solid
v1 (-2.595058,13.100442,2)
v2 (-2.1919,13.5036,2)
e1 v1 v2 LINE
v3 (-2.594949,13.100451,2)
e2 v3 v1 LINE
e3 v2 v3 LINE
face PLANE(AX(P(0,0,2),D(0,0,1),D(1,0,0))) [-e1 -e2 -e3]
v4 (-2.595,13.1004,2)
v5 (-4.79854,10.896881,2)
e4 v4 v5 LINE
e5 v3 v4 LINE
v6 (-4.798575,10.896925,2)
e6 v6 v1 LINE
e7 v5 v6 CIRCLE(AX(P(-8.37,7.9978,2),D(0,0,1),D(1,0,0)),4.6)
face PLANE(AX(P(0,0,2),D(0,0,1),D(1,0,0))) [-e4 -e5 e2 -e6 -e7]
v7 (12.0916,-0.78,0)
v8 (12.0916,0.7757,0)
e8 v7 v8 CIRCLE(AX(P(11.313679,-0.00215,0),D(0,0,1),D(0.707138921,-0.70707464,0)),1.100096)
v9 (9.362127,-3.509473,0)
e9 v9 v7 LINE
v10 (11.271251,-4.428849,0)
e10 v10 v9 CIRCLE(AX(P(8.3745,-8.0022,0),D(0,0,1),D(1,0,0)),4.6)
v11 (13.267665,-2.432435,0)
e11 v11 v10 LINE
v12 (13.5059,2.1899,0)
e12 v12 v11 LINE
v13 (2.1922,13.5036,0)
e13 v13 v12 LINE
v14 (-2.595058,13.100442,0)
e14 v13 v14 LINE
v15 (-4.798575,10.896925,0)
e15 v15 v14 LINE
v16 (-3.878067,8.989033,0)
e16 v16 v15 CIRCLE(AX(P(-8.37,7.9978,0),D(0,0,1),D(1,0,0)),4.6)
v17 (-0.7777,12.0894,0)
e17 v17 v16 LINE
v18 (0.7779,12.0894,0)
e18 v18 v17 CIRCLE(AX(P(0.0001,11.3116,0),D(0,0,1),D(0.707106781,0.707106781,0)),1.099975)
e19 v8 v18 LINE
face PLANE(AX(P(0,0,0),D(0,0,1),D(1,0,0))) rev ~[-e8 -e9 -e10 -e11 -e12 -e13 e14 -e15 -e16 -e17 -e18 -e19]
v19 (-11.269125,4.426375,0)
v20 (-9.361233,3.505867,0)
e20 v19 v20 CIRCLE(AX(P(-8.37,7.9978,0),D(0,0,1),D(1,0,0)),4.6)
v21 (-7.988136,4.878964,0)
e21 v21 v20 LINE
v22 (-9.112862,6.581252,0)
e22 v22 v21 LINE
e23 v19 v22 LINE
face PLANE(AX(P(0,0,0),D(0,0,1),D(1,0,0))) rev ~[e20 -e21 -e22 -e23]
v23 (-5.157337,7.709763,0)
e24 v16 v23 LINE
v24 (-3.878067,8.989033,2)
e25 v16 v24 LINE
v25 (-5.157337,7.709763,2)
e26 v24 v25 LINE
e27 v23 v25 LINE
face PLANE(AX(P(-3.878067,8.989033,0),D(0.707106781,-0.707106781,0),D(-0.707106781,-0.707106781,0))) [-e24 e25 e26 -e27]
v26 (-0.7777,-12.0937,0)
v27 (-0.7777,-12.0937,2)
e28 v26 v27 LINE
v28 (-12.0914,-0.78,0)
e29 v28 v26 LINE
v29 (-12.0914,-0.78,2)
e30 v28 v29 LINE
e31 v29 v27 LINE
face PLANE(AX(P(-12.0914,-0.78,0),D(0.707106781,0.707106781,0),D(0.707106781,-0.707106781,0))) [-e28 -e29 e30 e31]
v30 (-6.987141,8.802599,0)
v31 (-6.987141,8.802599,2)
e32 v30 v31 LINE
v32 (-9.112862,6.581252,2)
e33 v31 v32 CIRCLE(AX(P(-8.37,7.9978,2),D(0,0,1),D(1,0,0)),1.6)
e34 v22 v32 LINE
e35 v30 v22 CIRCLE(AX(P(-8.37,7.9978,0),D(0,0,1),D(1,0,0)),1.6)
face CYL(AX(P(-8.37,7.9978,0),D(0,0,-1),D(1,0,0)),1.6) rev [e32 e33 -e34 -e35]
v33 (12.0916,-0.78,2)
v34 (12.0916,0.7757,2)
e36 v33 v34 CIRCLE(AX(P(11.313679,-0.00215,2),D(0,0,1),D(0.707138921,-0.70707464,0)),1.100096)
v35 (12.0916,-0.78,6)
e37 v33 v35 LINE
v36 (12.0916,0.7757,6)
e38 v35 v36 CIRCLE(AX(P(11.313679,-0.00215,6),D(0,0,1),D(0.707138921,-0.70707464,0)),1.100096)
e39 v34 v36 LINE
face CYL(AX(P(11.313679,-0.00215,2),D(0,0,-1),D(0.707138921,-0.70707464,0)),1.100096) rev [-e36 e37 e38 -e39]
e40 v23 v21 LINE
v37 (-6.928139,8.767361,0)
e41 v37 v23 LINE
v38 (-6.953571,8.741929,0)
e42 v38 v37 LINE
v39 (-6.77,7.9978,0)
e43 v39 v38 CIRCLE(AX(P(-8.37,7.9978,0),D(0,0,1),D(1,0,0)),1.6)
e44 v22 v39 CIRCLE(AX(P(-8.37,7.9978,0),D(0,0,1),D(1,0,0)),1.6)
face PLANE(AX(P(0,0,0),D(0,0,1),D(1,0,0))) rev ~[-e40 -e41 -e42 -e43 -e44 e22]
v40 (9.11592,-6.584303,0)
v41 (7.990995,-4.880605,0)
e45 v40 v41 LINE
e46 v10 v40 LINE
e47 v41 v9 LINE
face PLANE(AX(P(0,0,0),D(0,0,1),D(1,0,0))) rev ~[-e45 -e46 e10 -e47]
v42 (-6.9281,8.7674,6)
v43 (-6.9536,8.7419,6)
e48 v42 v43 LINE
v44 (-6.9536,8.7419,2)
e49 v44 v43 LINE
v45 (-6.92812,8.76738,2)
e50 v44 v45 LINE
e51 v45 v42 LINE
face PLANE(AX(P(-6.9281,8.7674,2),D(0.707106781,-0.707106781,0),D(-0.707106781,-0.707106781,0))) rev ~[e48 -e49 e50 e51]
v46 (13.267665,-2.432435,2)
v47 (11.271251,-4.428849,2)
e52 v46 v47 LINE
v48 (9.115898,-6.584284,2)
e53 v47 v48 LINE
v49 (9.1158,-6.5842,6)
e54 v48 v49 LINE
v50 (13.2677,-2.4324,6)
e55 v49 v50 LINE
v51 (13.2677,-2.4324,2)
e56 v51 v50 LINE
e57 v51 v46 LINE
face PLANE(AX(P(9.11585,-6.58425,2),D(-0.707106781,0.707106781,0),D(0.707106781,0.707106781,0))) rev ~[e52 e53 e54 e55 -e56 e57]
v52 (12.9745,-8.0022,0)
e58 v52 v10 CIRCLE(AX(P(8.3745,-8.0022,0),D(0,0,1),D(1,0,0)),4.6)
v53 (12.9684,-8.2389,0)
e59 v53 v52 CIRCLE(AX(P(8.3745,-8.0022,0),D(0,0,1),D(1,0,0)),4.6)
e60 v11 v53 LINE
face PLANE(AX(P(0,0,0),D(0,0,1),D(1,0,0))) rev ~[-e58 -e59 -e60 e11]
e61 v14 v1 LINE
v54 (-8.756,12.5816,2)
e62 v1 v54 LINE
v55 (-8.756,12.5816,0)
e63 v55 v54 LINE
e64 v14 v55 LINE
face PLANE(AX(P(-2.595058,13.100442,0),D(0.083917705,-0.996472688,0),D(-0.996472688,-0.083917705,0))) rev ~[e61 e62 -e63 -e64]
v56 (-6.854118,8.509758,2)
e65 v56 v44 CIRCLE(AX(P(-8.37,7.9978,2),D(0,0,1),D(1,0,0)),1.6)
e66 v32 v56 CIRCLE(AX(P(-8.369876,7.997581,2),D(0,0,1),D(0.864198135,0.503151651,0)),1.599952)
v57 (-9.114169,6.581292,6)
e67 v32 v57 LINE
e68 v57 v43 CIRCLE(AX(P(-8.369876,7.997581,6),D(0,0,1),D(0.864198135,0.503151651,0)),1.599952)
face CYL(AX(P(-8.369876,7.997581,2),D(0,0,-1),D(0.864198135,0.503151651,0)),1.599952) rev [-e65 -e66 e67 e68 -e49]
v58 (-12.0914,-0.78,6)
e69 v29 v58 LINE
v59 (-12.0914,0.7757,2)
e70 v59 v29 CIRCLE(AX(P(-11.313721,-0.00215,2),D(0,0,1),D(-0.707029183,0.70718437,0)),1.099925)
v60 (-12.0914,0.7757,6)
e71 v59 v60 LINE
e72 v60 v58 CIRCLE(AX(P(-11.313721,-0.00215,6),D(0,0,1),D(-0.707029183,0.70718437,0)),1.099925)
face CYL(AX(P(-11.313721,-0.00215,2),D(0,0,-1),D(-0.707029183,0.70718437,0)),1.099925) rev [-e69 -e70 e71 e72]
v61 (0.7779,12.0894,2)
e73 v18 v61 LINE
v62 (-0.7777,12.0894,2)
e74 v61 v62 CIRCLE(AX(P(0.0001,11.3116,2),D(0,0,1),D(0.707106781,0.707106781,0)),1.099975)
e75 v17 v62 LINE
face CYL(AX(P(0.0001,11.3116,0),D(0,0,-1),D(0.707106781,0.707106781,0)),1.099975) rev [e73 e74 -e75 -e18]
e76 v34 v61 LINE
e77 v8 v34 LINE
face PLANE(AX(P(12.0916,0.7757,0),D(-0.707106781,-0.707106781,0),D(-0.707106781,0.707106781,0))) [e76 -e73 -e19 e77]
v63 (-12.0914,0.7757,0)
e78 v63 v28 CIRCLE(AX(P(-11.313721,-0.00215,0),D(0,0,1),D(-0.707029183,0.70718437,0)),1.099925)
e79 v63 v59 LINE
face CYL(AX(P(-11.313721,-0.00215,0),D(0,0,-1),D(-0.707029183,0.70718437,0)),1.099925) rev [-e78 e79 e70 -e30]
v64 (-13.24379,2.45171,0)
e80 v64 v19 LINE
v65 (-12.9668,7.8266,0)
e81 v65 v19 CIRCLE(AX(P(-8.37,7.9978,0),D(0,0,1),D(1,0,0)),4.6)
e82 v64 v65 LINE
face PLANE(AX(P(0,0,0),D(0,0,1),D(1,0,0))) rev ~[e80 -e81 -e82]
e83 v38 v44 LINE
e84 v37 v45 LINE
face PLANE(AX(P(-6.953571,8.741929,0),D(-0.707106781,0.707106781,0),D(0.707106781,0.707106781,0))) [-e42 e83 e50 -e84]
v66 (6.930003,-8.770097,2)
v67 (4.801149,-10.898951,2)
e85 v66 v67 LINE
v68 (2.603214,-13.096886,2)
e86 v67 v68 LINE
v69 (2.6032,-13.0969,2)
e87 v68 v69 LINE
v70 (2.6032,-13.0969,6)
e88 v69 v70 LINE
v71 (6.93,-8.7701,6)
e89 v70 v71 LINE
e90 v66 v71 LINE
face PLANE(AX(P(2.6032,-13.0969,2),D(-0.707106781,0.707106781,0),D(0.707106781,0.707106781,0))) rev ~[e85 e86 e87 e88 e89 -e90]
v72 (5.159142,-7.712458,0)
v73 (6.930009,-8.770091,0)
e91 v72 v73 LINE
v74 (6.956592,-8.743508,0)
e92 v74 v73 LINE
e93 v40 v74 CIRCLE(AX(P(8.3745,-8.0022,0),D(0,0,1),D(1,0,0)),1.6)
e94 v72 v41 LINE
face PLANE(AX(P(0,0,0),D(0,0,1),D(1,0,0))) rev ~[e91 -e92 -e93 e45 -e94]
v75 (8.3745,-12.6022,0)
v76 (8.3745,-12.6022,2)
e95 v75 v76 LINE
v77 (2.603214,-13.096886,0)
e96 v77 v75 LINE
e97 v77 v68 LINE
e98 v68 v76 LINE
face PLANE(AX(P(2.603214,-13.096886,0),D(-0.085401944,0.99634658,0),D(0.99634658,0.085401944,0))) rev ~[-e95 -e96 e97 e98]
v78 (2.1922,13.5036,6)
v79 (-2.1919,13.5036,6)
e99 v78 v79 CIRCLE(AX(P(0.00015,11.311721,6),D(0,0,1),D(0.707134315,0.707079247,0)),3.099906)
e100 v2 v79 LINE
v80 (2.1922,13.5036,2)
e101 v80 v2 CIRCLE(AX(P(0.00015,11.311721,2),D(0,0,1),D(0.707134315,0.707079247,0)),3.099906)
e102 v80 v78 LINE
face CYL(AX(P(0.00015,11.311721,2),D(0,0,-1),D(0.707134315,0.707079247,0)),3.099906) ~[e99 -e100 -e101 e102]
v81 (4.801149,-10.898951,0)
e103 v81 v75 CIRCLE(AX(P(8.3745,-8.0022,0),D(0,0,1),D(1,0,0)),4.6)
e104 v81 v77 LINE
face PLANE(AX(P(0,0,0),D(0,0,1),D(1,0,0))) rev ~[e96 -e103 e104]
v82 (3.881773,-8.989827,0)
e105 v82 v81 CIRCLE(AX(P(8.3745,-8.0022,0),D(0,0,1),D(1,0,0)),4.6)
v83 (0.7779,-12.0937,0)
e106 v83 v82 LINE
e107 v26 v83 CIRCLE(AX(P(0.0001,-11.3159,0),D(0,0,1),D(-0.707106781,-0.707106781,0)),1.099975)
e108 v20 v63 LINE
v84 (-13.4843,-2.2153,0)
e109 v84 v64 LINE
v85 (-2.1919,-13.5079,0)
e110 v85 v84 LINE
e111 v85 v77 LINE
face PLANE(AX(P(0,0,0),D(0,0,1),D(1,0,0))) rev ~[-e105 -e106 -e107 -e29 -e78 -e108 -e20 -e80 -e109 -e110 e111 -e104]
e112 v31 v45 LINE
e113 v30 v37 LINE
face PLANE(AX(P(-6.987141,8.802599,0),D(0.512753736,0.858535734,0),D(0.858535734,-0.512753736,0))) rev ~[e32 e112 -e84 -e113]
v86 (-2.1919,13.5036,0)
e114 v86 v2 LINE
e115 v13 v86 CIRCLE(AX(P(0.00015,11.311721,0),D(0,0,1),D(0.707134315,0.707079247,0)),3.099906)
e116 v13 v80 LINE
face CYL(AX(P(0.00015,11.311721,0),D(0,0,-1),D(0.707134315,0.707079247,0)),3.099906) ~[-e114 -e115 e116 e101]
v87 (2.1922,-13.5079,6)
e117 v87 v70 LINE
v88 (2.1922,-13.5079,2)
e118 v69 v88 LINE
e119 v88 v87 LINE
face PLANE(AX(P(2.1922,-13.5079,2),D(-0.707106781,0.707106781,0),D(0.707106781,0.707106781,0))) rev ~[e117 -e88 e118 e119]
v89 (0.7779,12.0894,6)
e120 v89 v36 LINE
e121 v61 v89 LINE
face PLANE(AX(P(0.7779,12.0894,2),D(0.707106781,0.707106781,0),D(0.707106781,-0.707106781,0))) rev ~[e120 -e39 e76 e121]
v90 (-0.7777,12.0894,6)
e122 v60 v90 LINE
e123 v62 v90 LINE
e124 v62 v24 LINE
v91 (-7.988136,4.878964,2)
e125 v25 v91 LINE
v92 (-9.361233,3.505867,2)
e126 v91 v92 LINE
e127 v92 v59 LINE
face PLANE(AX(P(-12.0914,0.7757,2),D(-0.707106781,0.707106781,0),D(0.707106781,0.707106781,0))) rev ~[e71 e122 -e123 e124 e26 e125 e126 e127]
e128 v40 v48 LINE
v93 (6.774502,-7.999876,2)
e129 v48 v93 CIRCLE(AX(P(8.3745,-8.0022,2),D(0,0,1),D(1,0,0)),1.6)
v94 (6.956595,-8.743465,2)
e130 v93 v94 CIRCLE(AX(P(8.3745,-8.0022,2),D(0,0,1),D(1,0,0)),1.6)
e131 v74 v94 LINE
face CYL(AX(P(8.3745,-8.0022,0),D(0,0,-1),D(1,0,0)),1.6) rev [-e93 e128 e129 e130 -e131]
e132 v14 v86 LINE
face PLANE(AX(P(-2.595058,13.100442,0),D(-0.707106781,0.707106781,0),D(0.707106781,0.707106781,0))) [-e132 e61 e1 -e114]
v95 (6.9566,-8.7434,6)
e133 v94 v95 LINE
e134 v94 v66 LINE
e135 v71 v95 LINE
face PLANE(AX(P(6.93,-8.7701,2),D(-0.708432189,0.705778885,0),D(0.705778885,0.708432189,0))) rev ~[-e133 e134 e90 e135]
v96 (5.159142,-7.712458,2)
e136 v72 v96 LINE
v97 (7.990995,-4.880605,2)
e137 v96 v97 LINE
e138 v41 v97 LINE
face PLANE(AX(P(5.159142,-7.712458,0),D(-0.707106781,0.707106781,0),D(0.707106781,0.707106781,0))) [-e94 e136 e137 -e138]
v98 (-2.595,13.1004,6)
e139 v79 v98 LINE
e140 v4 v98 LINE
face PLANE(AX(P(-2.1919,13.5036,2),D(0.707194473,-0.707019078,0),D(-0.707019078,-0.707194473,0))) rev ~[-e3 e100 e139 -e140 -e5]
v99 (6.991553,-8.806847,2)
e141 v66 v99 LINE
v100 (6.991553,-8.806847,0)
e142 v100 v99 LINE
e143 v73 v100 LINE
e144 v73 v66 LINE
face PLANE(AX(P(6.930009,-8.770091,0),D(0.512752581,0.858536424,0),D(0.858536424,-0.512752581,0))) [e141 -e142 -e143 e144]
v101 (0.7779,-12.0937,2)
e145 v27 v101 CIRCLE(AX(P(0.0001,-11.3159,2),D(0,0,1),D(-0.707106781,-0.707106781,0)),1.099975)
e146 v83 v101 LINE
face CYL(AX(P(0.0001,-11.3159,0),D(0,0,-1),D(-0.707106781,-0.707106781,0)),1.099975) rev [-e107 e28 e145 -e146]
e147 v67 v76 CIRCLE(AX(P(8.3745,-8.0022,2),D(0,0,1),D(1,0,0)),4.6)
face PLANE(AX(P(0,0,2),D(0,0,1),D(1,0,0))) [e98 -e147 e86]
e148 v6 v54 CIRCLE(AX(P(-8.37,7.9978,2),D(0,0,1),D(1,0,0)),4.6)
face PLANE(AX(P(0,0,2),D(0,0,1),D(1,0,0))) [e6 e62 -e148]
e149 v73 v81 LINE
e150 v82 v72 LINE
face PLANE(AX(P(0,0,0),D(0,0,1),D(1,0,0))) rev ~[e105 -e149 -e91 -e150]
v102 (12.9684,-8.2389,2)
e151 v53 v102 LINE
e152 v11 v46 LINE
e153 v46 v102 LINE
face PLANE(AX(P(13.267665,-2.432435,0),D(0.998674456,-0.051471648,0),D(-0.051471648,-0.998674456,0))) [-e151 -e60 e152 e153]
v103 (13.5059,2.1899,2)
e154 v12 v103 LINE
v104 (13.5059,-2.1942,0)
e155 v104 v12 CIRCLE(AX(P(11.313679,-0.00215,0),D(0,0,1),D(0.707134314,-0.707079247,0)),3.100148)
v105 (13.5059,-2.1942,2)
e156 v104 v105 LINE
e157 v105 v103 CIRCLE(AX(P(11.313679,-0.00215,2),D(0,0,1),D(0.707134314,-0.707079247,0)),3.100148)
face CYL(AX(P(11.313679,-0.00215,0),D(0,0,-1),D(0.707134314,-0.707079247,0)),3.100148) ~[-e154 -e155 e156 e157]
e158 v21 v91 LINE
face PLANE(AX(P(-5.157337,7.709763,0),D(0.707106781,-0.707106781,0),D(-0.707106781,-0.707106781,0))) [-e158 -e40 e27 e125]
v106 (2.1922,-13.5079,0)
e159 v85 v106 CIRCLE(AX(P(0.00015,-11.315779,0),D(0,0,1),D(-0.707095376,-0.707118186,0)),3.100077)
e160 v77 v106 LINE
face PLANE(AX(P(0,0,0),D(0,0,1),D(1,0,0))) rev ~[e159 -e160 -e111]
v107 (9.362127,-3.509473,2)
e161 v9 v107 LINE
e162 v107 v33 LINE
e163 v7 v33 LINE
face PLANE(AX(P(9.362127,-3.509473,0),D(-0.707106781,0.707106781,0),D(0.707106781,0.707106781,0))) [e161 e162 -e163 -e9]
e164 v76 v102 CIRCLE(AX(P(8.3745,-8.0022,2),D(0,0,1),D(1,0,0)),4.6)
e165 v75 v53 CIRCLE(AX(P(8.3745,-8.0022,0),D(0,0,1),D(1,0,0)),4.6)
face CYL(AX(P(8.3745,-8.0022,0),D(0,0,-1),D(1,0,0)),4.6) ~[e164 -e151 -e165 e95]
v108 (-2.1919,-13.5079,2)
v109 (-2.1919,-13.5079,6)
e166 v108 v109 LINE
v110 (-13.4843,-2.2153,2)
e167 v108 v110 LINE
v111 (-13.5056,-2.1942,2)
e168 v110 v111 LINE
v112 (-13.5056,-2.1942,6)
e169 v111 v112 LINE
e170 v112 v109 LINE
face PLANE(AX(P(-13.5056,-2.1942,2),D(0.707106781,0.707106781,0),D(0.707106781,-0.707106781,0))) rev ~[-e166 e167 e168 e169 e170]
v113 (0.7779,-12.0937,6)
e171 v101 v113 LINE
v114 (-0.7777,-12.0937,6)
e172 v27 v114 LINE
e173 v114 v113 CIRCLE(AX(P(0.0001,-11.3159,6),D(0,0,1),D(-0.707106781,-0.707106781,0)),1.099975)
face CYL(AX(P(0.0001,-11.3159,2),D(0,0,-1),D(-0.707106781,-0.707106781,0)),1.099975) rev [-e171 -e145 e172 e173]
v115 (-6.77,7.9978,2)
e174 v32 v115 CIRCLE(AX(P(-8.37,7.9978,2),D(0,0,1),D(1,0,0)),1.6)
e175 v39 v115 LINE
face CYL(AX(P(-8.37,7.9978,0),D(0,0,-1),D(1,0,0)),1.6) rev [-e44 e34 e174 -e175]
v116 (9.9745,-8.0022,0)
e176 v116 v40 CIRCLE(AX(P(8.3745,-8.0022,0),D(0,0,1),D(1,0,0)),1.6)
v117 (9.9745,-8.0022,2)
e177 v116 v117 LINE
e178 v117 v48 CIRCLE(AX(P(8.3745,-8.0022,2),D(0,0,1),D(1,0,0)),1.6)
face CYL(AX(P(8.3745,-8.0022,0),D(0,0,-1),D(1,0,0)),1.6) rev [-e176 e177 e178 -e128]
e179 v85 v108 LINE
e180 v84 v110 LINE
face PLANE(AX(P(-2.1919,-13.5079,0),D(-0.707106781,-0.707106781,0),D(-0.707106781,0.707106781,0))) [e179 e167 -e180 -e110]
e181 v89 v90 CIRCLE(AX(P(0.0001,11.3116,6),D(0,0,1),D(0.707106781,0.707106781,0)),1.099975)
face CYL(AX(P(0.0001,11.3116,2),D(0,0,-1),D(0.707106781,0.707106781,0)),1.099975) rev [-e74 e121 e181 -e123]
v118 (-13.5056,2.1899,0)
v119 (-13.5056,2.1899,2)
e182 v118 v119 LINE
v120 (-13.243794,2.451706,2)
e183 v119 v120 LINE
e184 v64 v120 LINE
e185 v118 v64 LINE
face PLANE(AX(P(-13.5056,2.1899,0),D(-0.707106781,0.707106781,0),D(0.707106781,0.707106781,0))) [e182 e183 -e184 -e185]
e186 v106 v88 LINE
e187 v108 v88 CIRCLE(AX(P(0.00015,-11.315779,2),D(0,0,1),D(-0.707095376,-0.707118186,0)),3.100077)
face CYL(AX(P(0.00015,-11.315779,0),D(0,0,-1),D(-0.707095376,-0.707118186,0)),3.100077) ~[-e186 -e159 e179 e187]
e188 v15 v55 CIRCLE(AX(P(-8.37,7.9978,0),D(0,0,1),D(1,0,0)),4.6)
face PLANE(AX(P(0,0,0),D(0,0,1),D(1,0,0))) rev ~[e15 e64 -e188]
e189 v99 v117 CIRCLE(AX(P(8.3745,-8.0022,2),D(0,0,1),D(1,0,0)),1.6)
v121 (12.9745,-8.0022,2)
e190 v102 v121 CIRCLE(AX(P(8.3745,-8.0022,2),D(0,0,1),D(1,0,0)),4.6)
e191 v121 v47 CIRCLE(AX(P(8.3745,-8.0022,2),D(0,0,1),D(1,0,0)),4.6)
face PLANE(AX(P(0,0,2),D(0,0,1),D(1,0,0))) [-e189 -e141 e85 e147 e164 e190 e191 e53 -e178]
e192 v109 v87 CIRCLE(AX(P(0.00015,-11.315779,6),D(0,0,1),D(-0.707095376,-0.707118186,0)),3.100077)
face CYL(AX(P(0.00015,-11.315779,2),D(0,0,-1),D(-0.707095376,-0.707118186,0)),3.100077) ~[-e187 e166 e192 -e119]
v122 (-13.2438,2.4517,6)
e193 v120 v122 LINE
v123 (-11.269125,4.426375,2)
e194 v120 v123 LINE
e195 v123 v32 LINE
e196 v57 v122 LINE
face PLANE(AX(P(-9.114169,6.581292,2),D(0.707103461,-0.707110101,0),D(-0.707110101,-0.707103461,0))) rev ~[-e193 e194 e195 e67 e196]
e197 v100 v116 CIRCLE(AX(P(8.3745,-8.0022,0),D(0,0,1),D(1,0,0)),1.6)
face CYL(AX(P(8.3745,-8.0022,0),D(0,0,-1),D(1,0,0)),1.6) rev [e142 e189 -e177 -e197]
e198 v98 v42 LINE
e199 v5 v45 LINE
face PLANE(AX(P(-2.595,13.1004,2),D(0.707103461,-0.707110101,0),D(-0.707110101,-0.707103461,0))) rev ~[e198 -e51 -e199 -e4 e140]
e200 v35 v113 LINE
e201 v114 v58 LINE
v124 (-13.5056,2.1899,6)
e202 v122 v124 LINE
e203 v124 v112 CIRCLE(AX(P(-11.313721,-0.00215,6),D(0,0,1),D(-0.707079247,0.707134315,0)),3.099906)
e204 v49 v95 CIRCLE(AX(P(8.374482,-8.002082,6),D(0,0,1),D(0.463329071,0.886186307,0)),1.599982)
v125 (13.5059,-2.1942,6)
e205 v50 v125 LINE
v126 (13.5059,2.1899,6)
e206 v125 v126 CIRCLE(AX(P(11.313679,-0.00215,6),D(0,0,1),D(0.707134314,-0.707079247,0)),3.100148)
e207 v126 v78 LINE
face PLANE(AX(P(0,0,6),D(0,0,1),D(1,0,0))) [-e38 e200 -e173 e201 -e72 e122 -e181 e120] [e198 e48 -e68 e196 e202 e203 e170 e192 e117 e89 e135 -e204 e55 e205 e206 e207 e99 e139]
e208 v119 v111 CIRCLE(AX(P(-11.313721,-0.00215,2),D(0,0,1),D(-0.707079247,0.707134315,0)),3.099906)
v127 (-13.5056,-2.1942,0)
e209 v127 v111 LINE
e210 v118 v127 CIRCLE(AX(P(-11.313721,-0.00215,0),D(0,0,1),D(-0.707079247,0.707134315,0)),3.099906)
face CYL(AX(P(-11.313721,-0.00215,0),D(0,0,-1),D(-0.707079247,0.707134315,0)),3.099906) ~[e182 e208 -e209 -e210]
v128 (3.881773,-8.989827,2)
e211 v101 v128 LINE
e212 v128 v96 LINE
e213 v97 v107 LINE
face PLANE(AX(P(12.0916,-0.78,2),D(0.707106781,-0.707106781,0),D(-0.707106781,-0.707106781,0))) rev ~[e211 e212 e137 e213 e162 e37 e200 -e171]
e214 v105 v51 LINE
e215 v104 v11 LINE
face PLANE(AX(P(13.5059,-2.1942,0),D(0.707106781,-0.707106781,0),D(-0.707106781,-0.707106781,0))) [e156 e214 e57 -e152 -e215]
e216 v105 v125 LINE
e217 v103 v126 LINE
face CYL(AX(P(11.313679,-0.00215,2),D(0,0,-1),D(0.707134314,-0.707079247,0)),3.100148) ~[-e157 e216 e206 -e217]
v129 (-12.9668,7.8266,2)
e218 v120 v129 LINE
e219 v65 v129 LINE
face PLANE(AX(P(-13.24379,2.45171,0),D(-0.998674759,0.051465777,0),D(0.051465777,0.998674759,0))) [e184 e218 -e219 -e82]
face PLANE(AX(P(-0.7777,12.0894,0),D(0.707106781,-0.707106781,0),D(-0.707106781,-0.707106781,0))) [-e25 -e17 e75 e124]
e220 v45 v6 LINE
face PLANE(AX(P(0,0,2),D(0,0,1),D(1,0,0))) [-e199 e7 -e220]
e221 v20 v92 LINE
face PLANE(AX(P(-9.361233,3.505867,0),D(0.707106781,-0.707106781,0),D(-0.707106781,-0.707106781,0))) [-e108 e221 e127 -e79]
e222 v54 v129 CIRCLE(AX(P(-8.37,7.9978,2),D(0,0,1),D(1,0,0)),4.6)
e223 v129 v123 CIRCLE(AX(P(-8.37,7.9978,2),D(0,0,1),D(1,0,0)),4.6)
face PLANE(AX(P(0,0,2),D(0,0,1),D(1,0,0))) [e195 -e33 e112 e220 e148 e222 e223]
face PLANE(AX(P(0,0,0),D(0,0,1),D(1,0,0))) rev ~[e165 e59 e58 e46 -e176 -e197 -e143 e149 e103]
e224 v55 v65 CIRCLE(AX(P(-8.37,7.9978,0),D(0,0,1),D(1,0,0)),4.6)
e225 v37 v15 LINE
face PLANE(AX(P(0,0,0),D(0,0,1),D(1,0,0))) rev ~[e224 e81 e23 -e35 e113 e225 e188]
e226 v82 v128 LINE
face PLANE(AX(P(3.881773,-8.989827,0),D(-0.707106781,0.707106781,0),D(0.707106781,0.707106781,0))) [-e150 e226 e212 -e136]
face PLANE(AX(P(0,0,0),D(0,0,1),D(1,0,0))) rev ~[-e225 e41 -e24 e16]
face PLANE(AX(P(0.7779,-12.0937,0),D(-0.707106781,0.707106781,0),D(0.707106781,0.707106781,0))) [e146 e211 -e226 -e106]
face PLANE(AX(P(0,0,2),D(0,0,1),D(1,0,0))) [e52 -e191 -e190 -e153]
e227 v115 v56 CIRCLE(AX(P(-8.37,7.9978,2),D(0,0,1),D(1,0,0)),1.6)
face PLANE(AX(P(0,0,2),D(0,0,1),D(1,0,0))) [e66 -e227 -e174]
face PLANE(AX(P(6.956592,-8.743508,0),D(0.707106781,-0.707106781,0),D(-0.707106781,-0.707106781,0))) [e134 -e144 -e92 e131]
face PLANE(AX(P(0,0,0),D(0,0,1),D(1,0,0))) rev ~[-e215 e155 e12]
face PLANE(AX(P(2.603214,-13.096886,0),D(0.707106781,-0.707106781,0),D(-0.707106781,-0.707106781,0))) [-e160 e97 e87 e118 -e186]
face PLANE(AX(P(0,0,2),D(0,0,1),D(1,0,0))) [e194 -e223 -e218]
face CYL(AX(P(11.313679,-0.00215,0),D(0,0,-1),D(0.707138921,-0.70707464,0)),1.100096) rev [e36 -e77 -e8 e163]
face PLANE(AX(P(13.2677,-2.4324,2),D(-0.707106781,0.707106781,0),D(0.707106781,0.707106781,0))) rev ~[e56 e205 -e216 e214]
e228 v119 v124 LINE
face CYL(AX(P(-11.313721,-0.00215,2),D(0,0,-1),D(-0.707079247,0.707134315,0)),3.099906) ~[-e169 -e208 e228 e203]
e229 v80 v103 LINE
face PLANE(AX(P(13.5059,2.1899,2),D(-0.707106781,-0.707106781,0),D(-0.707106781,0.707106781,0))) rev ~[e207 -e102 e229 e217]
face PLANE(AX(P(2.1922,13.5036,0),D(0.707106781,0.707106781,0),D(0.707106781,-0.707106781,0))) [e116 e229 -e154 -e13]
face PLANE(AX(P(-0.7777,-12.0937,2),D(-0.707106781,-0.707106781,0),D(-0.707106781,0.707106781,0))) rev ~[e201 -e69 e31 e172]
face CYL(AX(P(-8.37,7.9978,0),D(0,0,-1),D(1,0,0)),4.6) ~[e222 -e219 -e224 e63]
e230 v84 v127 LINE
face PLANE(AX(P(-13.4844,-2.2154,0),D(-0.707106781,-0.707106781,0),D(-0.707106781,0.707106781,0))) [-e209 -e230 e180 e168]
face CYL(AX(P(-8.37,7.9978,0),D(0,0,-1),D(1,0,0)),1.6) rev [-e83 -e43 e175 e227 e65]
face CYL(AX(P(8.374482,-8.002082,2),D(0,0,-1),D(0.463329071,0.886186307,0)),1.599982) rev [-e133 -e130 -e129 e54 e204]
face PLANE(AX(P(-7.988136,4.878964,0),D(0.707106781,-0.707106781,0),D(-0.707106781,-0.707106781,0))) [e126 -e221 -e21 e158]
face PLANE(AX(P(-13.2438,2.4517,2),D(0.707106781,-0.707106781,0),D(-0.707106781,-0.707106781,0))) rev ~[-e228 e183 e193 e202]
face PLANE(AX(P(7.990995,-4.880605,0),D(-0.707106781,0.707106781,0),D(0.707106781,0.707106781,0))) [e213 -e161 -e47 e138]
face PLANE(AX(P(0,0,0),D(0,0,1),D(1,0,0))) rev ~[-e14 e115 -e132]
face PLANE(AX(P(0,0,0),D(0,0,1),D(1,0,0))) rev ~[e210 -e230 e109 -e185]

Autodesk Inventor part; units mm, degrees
ref_plane "YZ Plane" through (0, 0, 0) normal (1, 0, 0) x (0, 1, 0)
ref_plane "XZ Plane" through (0, 0, 0) normal (0, 1, 0) x (-1, 0, 0)
ref_plane "XY Plane" through (0, 0, 0) normal (0, 0, 1) x (1, 0, 0)
sketch "Skizze1" plane through (0, 0, 0) normal (0, 0, 1) x (1, 0, 0)
  circle A0 centre (0.0001, -0.0022) radius 3.9802 projected
  circle A1 centre (-8.37, 7.9978) radius 1.4 projected
  circle A2 centre (8.3745, -8.0022) radius 1.4 projected
  line L0 (-9.5383, 7.2264) -> (-3.2198, -2.3418)
  line L1 (-7.6522, 9.1998) -> (1.8915, 3.4999)
  line L2 (9.5428, -7.2307) -> (3.3215, 2.191)
  line L3 (-1.8517, -3.5253) -> (7.6567, -9.2041)
  arc A3 (12.0209, -0.7093) -> (12.0209, 0.705) centre (11.3138, -0.0022) ccw projected
  line L4 (12.0209, 0.705) -> (0.7072, 12.0187) projected
  arc A4 (0.7072, 12.0187) -> (-0.707, 12.0187) centre (0.0001, 11.3116) ccw projected
  line L5 (-0.707, 12.0187) -> (-12.0207, 0.705) projected
  arc A5 (-12.0207, 0.705) -> (-12.0207, -0.7093) centre (-11.3136, -0.0022) ccw projected
  line L6 (-12.0207, -0.7093) -> (-0.707, -12.023) projected
  arc A6 (-0.707, -12.023) -> (0.7072, -12.023) centre (0.0001, -11.3159) ccw projected
  line L7 (0.7072, -12.023) -> (12.0209, -0.7093) projected
  circle A7 centre (0.0001, -0.0022) radius 6 projected
  arc A8 (12.0916, -0.78) -> (12.0916, 0.7757) centre (11.3138, -0.0022) ccw
  line L8 (12.0916, 0.7757) -> (0.7779, 12.0894)
  arc A9 (0.7779, 12.0894) -> (-0.7777, 12.0894) centre (0.0001, 11.3116) ccw
  line L9 (-0.7777, 12.0894) -> (-12.0914, 0.7757)
  arc A10 (-12.0914, 0.7757) -> (-12.0914, -0.78) centre (-11.3136, -0.0022) ccw
  line L10 (-12.0914, -0.78) -> (-0.7777, -12.0937)
  arc A11 (-0.7777, -12.0937) -> (0.7779, -12.0937) centre (0.0001, -11.3159) ccw
  line L11 (0.7779, -12.0937) -> (12.0916, -0.78)
  circle A12 centre (8.3745, -8.0022) radius 1.6
  circle A13 centre (-8.37, 7.9978) radius 1.6
  circle A14 centre (8.3745, -8.0022) radius 4.6
  circle A15 centre (-8.37, 7.9978) radius 4.6
  line L12 (-2.1919, -13.5079) -> (-13.5056, -2.1942)
  arc A16 (-13.5056, 2.1899) -> (-13.5056, -2.1942) centre (-11.3136, -0.0022) ccw
  line L13 (-13.5056, 2.1899) -> (-2.1919, 13.5036)
  arc A17 (2.1922, 13.5036) -> (-2.1919, 13.5036) centre (0.0001, 11.3116) ccw
  line L14 (2.1922, 13.5036) -> (13.5059, 2.1899)
  arc A18 (13.5059, -2.1942) -> (13.5059, 2.1899) centre (11.3138, -0.0022) ccw
  line L15 (13.5059, -2.1942) -> (2.1922, -13.5079)
  arc A19 (-2.1919, -13.5079) -> (2.1922, -13.5079) centre (0.0001, -11.3159) ccw
  line L16 (-2.1919, -13.5079) -> (8.3745, -12.6022)
  line L17 (13.5059, 2.1899) -> (12.9684, -8.2389)
  line L18 (2.1922, 13.5036) -> (-8.756, 12.5816)
  line L19 (-13.4843, -2.2153) -> (-12.9668, 7.8266)
  point P0 (0, 0)
  point P1 (13.2677, -2.4324)
  point P2 (-2.595, 13.1004)
  point P3 (-13.2438, 2.4517)
  point P4 (2.6032, -13.0969)
  point P5 (-6.9281, 8.7674)
  point P6 (-6.9536, 8.7419)
  point P7 (-6.9872, 8.8026)
  point P8 (6.93, -8.7701)
  point P9 (6.9566, -8.7434)
  point P10 (9.1158, -6.5842)
  point P11 (9.1159, -6.5842)
  point P12 (9.116, -6.5843)
  point P13 (6.9917, -8.8069)
  dimension "d15" = 0.1
  dimension "d16" = 3.2
  dimension "d17" = 3.2
  dimension "d18" = 3
  dimension "d19" = 3
  dimension "d20" = 2
extrude "Extrusion4" add sketch "Skizze1" along normal blind 2 contours L11 A14 L15 L2 | L2 A12 L15 L3 L11 | L11 A8 L8 A9 L9 A15 L13 L18 L14 L17 L15 A14 | L3 L15 A14 L11 | A14 L15 L16 L12 L19 L13 A15 L9 A10 L10 A11 L11 | L9 L0 A13 L13 L1 | L1 L13 A15 L9 | L15 A14 L3 A12 | L15 L17 A14 | L9 A15 L13 L0 | A14 L16 L15 | L1 A13 L13 A15 | L17 A18 L15 | L13 L19 A15 | L15 A19 L16 | A15 L18 L13 | L19 L12 A16 L13 | L13 A17 L18
sketch "Skizze5" plane through (0, 0, 2) normal (0, 0, 1) x (1, 0, 0)
  line L0 (12.9684, -8.2389) -> (13.2677, -2.4324) projected
  line L1 (13.2677, -2.4324) -> (13.5059, -2.1942) projected
  arc A0 (13.5059, -2.1942) -> (13.5059, 2.1899) centre (11.3138, -0.0022) ccw projected
  line L2 (13.5059, 2.1899) -> (2.1922, 13.5036) projected
  arc A1 (2.1922, 13.5036) -> (-2.1919, 13.5036) centre (0.0001, 11.3116) ccw projected
  line L3 (-2.1919, 13.5036) -> (-2.595, 13.1004) projected
  line L4 (-2.595, 13.1004) -> (-8.756, 12.5816) projected
  arc A2 (-8.756, 12.5816) -> (-12.9668, 7.8266) centre (-8.37, 7.9978) ccw projected
  line L5 (-12.9668, 7.8266) -> (-13.2438, 2.4517) projected
  line L6 (-13.2438, 2.4517) -> (-13.5056, 2.1899) projected
  arc A3 (-13.5056, 2.1899) -> (-13.5056, -2.1942) centre (-11.3136, -0.0022) ccw projected
  line L7 (-13.5056, -2.1942) -> (-2.1919, -13.5079) projected
  arc A4 (-2.1919, -13.5079) -> (2.1922, -13.5079) centre (0.0001, -11.3159) ccw projected
  line L8 (2.1922, -13.5079) -> (2.6032, -13.0969) projected
  line L9 (2.6032, -13.0969) -> (8.3745, -12.6022) projected
  arc A5 (8.3745, -12.6022) -> (12.9684, -8.2389) centre (8.3745, -8.0022) ccw projected
  line L10 (-12.0914, 0.7757) -> (-0.7777, 12.0894) projected
  arc A6 (0.7779, 12.0894) -> (-0.7777, 12.0894) centre (0.0001, 11.3116) ccw projected
  line L11 (0.7779, 12.0894) -> (12.0916, 0.7757) projected
  arc A7 (12.0916, -0.78) -> (12.0916, 0.7757) centre (11.3138, -0.0022) ccw projected
  line L12 (12.0916, -0.78) -> (0.7779, -12.0937) projected
  arc A8 (-0.7777, -12.0937) -> (0.7779, -12.0937) centre (0.0001, -11.3159) ccw projected
  line L13 (-0.7777, -12.0937) -> (-12.0914, -0.78) projected
  arc A9 (-12.0914, 0.7757) -> (-12.0914, -0.78) centre (-11.3136, -0.0022) ccw projected
  line L14 (-6.9281, 8.7674) -> (-6.9536, 8.7419) projected
  arc A10 (-6.9872, 8.8026) -> (-6.9536, 8.7419) centre (-8.37, 7.9978) ccw projected
  line L15 (-6.9872, 8.8026) -> (-6.9281, 8.7674) projected
  line L16 (6.93, -8.7701) -> (6.9566, -8.7434) projected
  arc A11 (9.1158, -6.5842) -> (6.9566, -8.7434) centre (8.3745, -8.0022) ccw projected
  line L17 (9.1158, -6.5842) -> (9.1159, -6.5842) projected
  line L18 (9.1159, -6.5842) -> (9.116, -6.5843) projected
  arc A12 (6.9917, -8.8069) -> (9.116, -6.5843) centre (8.3745, -8.0022) ccw projected
  line L19 (6.9917, -8.8069) -> (6.93, -8.7701) projected
  line L20 (12.9684, -8.2389) -> (13.2677, -2.4324) projected
  line L21 (2.6032, -13.0969) -> (13.2677, -2.4324)
  line L22 (-2.595, 13.1004) -> (-8.756, 12.5816) projected
  line L23 (-2.595, 13.1004) -> (-13.2438, 2.4517)
  point P0 (0, 0)
  point P1 (-9.1141, 6.5814)
extrude "Extrusion5" add sketch "Skizze5" along normal blind 4 contours L21 A11 L16 L8 A4 L7 A3 L6 L23 A10 L14 L3 A1 L2 A0 L1
properties part number "IM_Lensholder_M12"
